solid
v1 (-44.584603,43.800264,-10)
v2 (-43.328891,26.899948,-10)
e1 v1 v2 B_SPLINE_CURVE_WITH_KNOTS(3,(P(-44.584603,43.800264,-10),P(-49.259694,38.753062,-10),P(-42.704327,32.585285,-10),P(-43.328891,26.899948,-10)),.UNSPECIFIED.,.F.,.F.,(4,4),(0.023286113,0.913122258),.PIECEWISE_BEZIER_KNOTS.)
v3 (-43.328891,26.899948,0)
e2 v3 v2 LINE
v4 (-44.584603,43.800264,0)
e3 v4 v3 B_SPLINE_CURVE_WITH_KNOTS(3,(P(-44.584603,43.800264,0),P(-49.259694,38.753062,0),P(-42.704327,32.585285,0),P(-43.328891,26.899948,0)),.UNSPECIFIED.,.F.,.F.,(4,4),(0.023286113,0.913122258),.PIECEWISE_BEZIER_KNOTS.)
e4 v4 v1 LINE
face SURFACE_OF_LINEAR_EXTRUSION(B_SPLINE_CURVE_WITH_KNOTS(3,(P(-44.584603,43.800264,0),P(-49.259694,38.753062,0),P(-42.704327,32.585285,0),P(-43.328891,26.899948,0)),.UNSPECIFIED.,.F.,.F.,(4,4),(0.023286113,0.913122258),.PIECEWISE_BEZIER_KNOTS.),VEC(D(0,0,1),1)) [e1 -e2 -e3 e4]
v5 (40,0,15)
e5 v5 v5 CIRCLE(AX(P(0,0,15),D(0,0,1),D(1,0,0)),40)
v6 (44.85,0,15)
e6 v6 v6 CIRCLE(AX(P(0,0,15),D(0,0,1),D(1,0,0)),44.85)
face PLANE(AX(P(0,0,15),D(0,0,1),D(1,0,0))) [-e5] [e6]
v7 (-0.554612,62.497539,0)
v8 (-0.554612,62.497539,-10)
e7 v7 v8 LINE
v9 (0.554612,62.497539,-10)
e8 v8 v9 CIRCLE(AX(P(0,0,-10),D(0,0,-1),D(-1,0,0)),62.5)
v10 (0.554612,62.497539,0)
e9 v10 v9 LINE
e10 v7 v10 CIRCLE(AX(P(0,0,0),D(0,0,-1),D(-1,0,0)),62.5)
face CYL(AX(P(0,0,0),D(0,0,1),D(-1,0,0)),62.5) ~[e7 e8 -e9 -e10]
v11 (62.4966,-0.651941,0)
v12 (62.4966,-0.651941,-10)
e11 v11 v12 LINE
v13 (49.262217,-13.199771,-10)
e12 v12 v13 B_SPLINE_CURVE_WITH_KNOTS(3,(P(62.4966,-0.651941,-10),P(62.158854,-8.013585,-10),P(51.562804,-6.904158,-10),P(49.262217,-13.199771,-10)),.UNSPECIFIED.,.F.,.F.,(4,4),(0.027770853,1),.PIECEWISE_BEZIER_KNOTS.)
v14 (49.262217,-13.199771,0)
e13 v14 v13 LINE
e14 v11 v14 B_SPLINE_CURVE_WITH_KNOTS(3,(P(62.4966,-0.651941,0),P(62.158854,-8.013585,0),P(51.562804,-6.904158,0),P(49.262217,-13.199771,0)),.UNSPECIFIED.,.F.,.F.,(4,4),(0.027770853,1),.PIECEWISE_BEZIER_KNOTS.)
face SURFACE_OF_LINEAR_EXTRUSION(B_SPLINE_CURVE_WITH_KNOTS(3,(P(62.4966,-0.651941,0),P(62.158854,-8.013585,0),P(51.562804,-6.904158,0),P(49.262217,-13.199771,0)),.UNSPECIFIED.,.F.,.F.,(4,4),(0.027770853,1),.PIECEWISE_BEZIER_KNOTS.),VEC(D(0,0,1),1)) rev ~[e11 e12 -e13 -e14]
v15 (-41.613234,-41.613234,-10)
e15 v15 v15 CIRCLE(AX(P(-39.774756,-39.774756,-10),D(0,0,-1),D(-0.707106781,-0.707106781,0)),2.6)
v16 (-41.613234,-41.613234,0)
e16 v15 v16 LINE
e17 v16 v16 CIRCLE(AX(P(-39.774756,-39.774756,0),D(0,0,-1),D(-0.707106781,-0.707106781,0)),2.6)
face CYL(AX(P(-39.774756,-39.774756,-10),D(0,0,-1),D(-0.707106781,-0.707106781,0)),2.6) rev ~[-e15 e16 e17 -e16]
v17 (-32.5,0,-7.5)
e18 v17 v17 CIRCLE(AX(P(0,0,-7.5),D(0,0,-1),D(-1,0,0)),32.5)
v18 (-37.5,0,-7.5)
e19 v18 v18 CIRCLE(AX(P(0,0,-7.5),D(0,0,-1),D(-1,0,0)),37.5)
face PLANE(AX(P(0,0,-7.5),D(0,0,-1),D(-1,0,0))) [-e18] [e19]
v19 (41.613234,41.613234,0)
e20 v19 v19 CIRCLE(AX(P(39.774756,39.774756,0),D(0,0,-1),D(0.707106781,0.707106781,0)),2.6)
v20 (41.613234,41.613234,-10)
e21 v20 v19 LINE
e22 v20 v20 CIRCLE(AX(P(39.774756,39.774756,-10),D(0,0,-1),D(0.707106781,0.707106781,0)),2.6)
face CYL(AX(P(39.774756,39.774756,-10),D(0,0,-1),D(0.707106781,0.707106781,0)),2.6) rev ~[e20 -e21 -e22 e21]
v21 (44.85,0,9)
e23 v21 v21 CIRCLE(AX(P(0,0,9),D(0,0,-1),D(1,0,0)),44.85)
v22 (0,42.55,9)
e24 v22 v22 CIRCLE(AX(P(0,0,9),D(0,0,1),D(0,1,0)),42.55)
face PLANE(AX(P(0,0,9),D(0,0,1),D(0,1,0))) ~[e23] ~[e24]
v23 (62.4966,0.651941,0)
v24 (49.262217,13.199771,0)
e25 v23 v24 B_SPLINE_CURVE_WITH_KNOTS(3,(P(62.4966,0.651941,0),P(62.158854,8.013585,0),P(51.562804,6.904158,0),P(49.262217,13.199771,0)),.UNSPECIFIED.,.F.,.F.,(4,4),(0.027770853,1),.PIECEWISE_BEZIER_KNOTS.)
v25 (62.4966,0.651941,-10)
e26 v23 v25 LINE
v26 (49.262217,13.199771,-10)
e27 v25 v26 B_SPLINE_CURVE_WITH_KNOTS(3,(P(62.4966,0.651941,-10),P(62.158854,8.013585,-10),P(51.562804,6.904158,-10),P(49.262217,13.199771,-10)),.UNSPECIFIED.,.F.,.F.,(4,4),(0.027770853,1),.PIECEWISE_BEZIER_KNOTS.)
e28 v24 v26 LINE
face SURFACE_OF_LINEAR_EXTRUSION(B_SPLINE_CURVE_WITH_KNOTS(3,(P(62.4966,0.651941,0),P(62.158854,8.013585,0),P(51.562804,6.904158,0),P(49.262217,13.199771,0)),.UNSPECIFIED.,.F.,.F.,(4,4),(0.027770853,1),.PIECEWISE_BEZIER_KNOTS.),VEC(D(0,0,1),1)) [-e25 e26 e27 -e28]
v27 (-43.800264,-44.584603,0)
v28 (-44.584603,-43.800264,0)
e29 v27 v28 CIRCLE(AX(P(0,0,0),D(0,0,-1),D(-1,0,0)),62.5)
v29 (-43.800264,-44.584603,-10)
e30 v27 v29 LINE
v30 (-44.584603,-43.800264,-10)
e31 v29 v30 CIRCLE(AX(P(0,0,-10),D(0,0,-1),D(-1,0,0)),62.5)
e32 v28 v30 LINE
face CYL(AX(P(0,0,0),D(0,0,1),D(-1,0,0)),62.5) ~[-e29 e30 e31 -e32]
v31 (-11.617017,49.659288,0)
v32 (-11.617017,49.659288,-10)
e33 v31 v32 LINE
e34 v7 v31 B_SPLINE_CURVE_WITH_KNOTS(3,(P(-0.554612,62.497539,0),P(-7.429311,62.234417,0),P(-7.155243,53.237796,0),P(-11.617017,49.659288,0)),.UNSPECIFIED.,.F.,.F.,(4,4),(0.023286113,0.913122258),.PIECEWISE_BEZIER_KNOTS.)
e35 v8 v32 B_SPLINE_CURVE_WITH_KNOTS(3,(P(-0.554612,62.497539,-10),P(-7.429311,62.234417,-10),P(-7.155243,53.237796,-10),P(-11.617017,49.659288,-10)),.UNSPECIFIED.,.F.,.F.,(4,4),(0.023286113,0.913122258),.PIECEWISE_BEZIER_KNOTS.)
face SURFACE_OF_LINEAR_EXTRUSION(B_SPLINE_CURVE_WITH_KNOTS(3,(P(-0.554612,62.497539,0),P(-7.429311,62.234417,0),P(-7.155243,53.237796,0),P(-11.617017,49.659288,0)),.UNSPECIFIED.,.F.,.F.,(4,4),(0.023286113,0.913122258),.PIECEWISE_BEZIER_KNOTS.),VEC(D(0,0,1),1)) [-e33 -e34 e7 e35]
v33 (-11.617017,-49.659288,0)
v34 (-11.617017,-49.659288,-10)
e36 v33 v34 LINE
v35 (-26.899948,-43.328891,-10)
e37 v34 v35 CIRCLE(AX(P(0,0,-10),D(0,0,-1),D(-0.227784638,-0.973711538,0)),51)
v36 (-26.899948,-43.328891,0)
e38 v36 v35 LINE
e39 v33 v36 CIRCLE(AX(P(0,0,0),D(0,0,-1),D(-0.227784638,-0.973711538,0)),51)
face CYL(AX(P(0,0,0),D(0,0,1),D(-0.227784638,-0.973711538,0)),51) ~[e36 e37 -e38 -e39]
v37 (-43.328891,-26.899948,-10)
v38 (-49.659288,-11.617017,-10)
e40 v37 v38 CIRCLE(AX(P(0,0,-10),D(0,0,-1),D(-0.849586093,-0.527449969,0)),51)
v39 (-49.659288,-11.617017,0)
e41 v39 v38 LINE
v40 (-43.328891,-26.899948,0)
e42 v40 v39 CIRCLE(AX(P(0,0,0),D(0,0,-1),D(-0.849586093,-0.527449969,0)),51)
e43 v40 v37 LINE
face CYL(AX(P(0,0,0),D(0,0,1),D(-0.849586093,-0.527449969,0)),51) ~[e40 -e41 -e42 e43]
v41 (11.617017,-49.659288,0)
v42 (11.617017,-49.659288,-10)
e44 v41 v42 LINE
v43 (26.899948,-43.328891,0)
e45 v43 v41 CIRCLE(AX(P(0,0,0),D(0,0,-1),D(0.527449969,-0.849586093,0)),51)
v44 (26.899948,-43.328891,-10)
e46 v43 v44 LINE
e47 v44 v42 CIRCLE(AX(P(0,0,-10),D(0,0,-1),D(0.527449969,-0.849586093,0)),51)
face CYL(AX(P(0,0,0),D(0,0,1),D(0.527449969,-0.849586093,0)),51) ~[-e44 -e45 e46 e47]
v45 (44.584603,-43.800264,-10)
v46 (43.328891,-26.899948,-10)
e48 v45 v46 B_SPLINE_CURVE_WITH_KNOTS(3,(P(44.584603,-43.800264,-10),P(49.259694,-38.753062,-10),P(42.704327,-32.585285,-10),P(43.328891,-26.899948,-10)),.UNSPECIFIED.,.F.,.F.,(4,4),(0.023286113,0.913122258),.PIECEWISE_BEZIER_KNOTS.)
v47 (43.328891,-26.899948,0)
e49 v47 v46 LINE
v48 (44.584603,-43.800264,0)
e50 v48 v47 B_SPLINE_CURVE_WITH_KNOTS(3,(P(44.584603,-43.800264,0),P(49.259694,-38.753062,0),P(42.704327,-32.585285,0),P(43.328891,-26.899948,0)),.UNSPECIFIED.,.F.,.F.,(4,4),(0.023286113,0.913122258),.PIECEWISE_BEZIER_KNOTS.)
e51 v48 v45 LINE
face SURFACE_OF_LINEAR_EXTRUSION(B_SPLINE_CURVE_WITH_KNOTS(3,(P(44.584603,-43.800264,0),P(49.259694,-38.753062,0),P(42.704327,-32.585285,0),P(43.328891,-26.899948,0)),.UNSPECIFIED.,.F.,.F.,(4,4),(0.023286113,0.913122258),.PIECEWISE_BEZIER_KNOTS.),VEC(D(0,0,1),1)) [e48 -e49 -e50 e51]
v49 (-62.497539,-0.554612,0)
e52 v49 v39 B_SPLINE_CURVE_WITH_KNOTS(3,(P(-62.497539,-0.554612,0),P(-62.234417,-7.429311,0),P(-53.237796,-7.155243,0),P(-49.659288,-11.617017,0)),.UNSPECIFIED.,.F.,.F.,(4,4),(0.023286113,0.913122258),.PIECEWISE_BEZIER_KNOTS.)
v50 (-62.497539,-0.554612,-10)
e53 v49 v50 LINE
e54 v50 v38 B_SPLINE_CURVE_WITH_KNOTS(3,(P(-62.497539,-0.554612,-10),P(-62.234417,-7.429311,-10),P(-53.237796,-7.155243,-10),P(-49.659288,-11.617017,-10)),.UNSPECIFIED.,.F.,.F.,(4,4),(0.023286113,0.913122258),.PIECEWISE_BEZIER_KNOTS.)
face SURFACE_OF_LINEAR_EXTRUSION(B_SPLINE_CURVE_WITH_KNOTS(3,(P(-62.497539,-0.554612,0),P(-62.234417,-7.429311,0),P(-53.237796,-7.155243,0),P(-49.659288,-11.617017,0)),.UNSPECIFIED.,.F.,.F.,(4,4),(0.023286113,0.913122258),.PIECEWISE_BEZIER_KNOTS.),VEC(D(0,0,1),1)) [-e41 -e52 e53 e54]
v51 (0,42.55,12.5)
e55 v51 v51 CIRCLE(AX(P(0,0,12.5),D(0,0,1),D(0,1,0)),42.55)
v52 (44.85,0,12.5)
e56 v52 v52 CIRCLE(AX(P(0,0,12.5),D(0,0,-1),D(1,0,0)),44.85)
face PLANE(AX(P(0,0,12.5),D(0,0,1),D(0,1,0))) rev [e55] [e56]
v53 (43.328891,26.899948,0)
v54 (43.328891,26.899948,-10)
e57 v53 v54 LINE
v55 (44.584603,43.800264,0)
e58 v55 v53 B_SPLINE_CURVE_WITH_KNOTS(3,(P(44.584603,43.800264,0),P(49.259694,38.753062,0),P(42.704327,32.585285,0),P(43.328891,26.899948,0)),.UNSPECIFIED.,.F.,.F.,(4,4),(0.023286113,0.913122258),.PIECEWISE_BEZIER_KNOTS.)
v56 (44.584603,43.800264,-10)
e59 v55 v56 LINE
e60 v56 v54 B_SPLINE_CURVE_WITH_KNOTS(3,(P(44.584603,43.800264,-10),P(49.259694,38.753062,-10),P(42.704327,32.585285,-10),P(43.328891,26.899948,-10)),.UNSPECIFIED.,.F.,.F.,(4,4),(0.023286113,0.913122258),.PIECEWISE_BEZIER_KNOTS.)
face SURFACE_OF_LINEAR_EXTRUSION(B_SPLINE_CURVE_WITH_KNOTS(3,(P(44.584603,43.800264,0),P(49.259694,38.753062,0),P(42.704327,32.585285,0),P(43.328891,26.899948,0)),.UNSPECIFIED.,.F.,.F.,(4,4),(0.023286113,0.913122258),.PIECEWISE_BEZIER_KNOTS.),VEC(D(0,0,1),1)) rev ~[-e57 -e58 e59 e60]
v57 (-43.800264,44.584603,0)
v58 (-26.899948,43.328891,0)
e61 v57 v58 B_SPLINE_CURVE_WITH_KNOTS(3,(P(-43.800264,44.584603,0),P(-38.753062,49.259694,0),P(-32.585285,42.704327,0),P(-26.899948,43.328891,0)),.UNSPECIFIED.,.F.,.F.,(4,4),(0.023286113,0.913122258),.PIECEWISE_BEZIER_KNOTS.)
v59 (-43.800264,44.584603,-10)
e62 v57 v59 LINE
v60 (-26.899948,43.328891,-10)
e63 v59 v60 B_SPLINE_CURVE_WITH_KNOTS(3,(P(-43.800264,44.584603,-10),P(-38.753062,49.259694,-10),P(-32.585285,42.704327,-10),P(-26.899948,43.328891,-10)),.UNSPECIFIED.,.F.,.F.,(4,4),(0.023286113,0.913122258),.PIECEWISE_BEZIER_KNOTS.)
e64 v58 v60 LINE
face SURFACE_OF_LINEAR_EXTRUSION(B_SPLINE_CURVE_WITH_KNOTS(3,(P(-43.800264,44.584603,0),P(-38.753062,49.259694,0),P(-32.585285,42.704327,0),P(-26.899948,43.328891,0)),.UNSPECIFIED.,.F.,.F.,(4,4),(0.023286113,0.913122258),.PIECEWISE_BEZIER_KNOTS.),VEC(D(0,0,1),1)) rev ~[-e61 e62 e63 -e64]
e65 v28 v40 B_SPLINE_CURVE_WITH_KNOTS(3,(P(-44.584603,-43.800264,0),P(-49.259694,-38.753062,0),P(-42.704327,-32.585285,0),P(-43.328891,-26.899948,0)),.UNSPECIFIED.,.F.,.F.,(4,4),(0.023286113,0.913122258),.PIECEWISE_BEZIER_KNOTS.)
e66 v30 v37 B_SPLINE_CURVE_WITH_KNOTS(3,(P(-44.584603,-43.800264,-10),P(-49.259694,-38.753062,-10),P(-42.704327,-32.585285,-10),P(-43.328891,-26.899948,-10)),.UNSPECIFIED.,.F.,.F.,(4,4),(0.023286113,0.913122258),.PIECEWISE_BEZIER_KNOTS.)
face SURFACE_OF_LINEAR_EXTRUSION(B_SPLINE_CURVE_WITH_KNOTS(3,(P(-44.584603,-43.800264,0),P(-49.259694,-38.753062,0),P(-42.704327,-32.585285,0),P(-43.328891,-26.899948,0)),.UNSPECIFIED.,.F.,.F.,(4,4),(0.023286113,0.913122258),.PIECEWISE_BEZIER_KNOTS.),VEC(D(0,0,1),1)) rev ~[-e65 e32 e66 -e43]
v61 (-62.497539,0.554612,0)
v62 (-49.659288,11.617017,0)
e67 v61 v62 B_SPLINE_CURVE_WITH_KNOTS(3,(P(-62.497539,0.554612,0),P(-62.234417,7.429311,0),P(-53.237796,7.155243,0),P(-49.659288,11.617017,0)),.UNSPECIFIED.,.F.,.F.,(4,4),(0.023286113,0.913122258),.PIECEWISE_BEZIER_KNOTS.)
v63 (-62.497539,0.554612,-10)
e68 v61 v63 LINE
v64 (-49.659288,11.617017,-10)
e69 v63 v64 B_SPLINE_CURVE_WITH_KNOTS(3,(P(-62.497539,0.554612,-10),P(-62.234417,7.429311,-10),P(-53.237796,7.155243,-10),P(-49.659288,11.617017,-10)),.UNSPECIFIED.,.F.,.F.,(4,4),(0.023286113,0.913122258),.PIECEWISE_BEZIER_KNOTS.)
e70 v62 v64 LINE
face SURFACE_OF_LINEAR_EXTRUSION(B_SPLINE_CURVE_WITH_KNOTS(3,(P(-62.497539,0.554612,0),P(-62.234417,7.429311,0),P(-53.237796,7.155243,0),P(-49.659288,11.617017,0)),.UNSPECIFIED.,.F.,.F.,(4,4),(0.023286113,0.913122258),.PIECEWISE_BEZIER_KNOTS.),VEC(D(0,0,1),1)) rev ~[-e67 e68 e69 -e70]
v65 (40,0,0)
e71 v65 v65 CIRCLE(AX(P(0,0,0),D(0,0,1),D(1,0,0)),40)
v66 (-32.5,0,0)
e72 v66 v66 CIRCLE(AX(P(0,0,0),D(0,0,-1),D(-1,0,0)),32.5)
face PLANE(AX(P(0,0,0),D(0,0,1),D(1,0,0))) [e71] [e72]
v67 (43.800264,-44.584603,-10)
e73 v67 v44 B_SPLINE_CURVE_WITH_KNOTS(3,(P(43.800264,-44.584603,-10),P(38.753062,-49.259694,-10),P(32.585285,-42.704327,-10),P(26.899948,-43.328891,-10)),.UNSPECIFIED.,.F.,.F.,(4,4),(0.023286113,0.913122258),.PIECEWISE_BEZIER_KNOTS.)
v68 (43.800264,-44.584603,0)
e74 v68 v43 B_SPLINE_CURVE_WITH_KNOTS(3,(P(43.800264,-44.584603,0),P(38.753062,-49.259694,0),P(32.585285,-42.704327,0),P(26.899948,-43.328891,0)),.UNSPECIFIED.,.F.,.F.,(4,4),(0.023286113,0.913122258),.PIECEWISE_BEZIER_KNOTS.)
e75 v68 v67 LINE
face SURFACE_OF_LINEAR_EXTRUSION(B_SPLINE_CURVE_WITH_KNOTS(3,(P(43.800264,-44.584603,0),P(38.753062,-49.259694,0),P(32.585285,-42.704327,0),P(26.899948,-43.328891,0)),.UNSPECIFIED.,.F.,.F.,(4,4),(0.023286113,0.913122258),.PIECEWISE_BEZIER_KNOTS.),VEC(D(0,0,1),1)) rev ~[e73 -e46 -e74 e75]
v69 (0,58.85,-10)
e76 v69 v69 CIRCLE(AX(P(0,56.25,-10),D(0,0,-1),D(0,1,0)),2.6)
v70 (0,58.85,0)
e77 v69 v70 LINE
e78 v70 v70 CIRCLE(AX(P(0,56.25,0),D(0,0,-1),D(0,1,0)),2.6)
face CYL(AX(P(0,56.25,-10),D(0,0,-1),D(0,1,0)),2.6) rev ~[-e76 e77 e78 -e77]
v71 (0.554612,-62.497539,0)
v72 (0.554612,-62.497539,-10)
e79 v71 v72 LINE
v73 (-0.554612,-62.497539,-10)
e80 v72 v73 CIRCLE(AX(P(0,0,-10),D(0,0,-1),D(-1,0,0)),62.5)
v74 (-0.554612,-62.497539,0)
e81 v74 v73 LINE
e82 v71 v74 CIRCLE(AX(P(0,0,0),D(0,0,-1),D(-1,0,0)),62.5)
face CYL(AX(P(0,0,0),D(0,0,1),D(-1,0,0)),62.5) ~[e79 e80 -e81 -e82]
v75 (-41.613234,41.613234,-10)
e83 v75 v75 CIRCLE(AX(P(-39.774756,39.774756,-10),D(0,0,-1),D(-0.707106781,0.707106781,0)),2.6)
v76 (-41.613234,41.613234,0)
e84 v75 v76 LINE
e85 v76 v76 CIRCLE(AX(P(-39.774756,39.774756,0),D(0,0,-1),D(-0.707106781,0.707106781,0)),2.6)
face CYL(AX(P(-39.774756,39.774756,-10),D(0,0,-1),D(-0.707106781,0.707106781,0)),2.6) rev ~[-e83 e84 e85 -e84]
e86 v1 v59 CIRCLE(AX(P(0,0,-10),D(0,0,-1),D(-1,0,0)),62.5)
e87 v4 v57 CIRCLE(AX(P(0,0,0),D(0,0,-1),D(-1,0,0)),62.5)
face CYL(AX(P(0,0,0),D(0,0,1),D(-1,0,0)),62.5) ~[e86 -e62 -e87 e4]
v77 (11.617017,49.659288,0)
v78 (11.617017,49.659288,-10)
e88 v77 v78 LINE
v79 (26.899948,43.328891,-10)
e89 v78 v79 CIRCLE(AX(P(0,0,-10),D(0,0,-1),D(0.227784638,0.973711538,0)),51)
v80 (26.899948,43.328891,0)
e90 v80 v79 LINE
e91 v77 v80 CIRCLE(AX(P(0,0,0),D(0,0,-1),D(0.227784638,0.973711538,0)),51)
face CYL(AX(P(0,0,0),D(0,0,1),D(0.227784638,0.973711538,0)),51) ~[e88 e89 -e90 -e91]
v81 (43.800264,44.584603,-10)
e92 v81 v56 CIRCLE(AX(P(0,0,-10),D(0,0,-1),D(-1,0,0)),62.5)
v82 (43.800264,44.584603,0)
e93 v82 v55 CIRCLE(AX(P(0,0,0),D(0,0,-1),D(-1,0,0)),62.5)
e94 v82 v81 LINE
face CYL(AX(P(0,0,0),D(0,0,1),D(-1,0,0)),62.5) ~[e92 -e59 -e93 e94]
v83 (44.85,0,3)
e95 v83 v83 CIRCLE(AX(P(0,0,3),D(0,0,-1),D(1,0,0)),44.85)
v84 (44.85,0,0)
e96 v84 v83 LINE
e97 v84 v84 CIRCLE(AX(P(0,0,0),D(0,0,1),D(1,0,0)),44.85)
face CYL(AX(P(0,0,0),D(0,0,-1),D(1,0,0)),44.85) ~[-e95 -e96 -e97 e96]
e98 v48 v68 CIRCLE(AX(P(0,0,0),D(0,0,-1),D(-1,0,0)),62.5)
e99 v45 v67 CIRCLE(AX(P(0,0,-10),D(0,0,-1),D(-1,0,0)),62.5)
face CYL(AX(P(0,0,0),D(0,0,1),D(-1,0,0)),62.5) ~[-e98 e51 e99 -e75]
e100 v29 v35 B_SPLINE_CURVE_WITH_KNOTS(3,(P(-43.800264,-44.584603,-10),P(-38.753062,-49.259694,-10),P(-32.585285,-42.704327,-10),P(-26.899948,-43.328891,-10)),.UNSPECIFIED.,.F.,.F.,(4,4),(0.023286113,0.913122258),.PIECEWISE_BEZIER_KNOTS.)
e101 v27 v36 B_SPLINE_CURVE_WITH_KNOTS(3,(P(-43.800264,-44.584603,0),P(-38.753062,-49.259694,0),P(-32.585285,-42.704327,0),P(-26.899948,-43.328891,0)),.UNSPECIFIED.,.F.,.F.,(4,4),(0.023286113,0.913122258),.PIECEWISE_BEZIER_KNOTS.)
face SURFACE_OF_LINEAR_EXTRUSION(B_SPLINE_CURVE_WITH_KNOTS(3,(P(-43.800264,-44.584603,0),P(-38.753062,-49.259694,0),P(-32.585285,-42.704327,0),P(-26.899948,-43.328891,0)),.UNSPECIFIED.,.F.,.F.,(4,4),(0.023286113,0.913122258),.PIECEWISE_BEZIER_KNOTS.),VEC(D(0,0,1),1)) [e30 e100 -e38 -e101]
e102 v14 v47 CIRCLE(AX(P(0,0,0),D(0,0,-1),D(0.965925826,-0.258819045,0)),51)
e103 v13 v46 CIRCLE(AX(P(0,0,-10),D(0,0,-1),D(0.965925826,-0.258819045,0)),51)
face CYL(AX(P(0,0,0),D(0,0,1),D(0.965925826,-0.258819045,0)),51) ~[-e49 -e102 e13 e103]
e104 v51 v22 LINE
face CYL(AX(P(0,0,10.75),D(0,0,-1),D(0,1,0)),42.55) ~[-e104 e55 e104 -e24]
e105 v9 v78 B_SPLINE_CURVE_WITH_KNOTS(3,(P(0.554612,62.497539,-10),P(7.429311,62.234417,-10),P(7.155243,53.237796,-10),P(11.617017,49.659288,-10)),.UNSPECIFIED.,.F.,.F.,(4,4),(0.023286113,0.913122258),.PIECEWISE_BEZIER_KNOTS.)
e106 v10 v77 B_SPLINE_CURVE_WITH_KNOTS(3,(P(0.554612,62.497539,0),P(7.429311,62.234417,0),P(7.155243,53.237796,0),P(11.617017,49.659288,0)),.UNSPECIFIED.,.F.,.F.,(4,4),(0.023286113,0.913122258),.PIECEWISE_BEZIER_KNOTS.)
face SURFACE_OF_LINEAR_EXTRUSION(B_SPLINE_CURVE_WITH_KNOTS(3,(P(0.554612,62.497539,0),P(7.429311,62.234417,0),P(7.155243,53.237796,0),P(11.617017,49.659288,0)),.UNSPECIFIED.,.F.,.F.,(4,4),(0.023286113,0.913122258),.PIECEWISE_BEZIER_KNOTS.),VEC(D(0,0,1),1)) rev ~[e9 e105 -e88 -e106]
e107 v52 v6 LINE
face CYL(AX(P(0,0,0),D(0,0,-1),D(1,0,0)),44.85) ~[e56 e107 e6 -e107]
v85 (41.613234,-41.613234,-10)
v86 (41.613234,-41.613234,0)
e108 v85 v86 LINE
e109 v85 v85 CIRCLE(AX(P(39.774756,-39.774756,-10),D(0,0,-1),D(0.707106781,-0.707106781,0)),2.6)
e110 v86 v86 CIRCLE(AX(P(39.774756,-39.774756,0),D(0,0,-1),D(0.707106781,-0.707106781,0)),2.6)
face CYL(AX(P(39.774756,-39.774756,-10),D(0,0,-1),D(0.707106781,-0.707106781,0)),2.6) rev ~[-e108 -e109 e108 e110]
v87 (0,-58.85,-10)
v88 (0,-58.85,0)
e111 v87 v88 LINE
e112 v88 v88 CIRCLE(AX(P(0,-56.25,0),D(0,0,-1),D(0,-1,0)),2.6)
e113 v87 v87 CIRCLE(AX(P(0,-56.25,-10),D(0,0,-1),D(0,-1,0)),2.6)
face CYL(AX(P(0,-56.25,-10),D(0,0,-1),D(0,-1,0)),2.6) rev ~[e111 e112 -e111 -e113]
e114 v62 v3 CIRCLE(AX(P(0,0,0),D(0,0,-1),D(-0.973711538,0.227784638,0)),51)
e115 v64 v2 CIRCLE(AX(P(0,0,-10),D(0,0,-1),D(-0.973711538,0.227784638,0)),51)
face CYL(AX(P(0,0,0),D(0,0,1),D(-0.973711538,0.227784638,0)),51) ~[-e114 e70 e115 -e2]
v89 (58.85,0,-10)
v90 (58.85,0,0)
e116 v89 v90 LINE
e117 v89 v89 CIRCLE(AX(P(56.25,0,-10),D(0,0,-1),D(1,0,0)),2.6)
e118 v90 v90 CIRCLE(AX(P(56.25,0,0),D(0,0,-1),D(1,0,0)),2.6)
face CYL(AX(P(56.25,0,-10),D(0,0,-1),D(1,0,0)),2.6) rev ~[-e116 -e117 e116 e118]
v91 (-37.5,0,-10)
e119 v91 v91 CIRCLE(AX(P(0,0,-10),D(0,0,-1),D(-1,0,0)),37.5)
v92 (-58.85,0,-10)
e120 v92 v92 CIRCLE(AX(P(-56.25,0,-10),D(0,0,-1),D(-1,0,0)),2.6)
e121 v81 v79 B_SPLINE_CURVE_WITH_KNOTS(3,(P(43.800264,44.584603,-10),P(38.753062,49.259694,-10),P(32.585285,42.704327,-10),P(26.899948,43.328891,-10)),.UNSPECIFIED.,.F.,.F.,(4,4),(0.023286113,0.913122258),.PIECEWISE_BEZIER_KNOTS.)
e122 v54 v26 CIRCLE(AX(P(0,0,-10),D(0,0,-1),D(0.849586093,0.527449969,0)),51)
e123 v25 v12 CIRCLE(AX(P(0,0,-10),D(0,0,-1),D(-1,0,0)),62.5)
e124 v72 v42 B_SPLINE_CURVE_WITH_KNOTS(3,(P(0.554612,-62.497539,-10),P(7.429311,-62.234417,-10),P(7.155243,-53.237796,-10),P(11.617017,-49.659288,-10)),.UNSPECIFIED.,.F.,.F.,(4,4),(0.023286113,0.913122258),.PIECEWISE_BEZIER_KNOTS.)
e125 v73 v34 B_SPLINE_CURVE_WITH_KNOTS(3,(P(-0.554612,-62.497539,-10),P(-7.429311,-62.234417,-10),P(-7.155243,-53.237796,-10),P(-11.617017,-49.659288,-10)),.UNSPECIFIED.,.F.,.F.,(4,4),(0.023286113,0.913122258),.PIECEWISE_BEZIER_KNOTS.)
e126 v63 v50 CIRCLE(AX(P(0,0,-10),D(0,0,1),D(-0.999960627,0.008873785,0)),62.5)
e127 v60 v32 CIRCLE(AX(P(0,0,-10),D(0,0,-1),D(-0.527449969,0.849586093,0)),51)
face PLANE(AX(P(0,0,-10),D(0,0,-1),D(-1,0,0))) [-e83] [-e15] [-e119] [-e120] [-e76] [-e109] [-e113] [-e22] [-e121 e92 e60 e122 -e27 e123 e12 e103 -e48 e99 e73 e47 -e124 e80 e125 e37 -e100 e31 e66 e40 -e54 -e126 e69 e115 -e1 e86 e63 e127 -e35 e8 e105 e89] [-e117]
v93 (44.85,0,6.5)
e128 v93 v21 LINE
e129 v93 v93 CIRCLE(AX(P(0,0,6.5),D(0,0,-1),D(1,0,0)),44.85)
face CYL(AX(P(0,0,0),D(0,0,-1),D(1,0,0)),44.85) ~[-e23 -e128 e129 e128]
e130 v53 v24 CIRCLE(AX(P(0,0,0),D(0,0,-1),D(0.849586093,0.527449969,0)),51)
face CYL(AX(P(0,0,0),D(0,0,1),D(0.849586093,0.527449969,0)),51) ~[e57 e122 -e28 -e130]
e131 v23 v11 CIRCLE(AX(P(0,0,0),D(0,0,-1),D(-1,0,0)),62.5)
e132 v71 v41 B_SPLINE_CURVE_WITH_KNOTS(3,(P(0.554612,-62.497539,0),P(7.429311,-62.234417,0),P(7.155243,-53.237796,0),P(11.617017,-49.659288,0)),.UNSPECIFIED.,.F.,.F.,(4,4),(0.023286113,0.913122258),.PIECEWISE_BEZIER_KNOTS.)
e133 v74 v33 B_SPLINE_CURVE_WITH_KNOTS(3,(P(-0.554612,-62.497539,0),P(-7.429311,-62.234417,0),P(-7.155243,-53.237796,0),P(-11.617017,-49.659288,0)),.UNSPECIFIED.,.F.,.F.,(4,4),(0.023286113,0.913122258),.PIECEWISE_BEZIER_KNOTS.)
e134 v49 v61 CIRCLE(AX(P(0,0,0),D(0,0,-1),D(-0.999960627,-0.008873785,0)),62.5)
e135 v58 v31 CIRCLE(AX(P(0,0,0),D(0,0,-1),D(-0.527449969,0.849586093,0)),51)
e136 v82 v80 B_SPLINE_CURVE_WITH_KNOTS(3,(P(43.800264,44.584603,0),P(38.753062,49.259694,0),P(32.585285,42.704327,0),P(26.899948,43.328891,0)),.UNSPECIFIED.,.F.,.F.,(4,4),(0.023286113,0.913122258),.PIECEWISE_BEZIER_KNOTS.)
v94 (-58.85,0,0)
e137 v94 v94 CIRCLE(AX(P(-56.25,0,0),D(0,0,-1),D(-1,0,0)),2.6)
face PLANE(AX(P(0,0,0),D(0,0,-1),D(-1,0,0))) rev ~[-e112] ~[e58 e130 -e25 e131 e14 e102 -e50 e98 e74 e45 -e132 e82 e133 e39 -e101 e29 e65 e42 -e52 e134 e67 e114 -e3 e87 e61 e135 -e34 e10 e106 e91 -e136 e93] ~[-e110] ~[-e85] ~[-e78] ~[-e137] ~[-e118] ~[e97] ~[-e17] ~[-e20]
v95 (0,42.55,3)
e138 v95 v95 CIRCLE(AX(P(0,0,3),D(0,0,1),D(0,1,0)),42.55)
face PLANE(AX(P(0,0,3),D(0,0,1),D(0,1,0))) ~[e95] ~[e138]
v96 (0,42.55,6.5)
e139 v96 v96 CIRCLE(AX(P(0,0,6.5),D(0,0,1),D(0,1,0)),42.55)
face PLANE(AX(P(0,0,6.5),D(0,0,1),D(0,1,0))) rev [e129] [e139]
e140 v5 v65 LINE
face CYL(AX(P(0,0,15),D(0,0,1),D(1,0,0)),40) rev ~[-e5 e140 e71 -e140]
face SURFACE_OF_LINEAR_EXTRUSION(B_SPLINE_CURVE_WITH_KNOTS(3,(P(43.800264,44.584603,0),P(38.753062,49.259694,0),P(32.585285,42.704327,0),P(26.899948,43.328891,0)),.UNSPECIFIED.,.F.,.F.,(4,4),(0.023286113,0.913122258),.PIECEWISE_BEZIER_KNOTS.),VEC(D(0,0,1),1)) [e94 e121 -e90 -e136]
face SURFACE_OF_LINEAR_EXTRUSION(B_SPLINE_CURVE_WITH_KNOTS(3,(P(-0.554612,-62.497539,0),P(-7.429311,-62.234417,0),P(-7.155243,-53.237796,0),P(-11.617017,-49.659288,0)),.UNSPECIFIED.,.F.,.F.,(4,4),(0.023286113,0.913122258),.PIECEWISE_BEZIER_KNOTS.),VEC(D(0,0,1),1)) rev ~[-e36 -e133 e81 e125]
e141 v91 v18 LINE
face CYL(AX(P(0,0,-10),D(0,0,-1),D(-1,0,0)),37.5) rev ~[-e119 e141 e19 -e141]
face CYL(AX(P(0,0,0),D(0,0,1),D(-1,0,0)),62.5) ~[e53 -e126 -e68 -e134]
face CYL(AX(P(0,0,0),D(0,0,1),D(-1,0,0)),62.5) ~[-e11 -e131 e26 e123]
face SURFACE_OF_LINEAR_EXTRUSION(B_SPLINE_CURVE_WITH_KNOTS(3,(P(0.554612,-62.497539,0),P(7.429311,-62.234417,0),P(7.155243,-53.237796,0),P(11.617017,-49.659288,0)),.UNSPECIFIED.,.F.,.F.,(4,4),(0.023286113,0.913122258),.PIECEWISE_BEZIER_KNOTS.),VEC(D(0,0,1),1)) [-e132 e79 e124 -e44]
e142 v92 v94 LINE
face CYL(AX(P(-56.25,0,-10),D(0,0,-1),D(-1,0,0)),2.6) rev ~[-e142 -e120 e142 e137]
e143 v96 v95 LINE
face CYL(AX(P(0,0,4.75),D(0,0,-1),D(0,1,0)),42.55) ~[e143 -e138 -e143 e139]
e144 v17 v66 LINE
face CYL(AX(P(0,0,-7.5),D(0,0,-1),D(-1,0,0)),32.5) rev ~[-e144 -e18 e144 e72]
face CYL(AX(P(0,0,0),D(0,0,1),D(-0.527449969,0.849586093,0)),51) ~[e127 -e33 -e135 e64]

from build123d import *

# Parameters (mm, degrees)
SKETCH1_R           = 44.85
BOSS_EXTRUDE1_DEPTH = 15
SKETCH2_R           = 62.5
BOSS_EXTRUDE2_DEPTH = 10
SKETCH3_R           = 40
CUT_EXTRUDE1_DEPTH  = 15
SKETCH4_W           = 3.5
SKETCH4_H           = 3.724799257
SKETCH7_R           = 2.6
CUT_EXTRUDE4_DEPTH  = 92.855865354
CIRPATTERN1_COUNT   = 8
SKETCH9_R           = 37.5
CUT_EXTRUDE6_DEPTH  = 2.5
SKETCH10_R          = 32.5
CUT_EXTRUDE7_DEPTH  = 92.207181735
SKETCH16_R          = 63
CUT_EXTRUDE12_DEPTH = 10


with BuildPart() as part:
    # Sketch1 → Boss-Extrude1 (new body)
    with BuildSketch(Plane.XY):
        Circle(SKETCH1_R)
    extrude(amount=BOSS_EXTRUDE1_DEPTH)

    # Sketch2 → Boss-Extrude2 (add)
    with BuildSketch(Plane(origin=(0, 0, 0), x_dir=(-1, 0, 0), z_dir=(0, 0, -1))):
        Circle(SKETCH2_R)
    extrude(amount=BOSS_EXTRUDE2_DEPTH)

    # Sketch3 → Cut-Extrude1 (cut)
    with BuildSketch(Plane.XY.offset(15)):
        Circle(SKETCH3_R)
    extrude(amount=-CUT_EXTRUDE1_DEPTH, mode=Mode.SUBTRACT)

    # Sketch4 → Cut-Revolve1 (revolve, cut)
    with BuildSketch(Plane(origin=(0, 0, 0), x_dir=(0, 0, -1), z_dir=(1, 0, 0))):
        with Locations((-4.75, 44.412399629)):
            Rectangle(SKETCH4_W, SKETCH4_H)
        with Locations((-10.75, 44.412399629)):
            Rectangle(SKETCH4_W, SKETCH4_H)
    revolve(axis=Axis((0, 0, -42.713110189), (0, 0, 1)), mode=Mode.SUBTRACT)

    # Sketch7 → Cut-Extrude4 (cut, through all)
    with BuildSketch(Plane(origin=(0, 0, -10), x_dir=(-1, 0, 0), z_dir=(0, 0, -1))):
        with Locations((56.25, 0)):
            Circle(SKETCH7_R)
    cut_extrude4 = extrude(amount=-CUT_EXTRUDE4_DEPTH, mode=Mode.SUBTRACT)

    # CirPattern1: Cut-Extrude4 ×8 about axis
    cirpattern1_axis = Axis((0, 0, -45.874761596), (0, 0, 1))
    for i in range(1, CIRPATTERN1_COUNT):
        add(cut_extrude4.rotate(cirpattern1_axis, i * 360 / CIRPATTERN1_COUNT), mode=Mode.SUBTRACT)

    # Sketch9 → Cut-Extrude6 (cut)
    with BuildSketch(Plane(origin=(0, 0, -10), x_dir=(-1, 0, 0), z_dir=(0, 0, -1))):
        Circle(SKETCH9_R)
    extrude(amount=-CUT_EXTRUDE6_DEPTH, mode=Mode.SUBTRACT)

    # Sketch10 → Cut-Extrude7 (cut, through all)
    with BuildSketch(Plane(origin=(0, 0, -7.5), x_dir=(-1, 0, 0), z_dir=(0, 0, -1))):
        Circle(SKETCH10_R)
    extrude(amount=-CUT_EXTRUDE7_DEPTH, mode=Mode.SUBTRACT)

    # Sketch16 → Cut-Extrude12 (cut)
    with BuildSketch(Plane.XY):
        Circle(SKETCH16_R)
        with BuildLine():
            ThreePointArc((43.328890761, 26.899948428), (46.799594325, 20.268151644), (49.262217141, 13.1997713))
            add(Edge.make_bspline(
                [(62.5, 0), (62.770955577, 8.083006491), (51.628518063, 6.724329941), (49.262217141, 13.1997713)],
                knots=[0, 0, 0, 0, 1, 1, 1, 1], degree=3))
            add(Edge.make_bspline(
                [(62.5, 0), (62.770955577, -8.083006491), (51.628518063, -6.724329941), (49.262217141, -13.1997713)],
                knots=[0, 0, 0, 0, 1, 1, 1, 1], degree=3))
            ThreePointArc((49.262217141, -13.1997713), (46.799594325, -20.268151644), (43.328890761, -26.899948428))
            add(Edge.make_bspline(
                [(44.194173824, -44.194173824), (49.607706082, -39.076201353), (42.687983273, -32.734064805), (43.328890761, -26.899948428)],
                knots=[0, 0, 0, 0, 0.913122258, 0.913122258, 0.913122258, 0.913122258], degree=3))
            add(Edge.make_bspline(
                [(44.194173824, -44.194173824), (39.076201353, -49.607706082), (32.734064805, -42.687983273), (26.899948428, -43.328890761)],
                knots=[0, 0, 0, 0, 0.913122258, 0.913122258, 0.913122258, 0.913122258], degree=3))
            ThreePointArc((26.899948428, -43.328890761), (19.516855051, -47.117856158), (11.617016531, -49.659288425))
            add(Edge.make_bspline(
                [(0, -62.5), (7.44689841, -62.708992329), (7.038483248, -53.331441647), (11.617016531, -49.659288425)],
                knots=[0, 0, 0, 0, 0.913122258, 0.913122258, 0.913122258, 0.913122258], degree=3))
            add(Edge.make_bspline(
                [(0, -62.5), (-7.44689841, -62.708992329), (-7.038483248, -53.331441647), (-11.617016531, -49.659288425)],
                knots=[0, 0, 0, 0, 0.913122258, 0.913122258, 0.913122258, 0.913122258], degree=3))
            ThreePointArc((-11.617016531, -49.659288425), (-19.516855051, -47.117856158), (-26.899948428, -43.328890761))
            add(Edge.make_bspline(
                [(-44.194173824, -44.194173824), (-39.076201353, -49.607706082), (-32.734064805, -42.687983273), (-26.899948428, -43.328890761)],
                knots=[0, 0, 0, 0, 0.913122258, 0.913122258, 0.913122258, 0.913122258], degree=3))
            add(Edge.make_bspline(
                [(-44.194173824, -44.194173824), (-49.607706082, -39.076201353), (-42.687983273, -32.734064805), (-43.328890761, -26.899948428)],
                knots=[0, 0, 0, 0, 0.913122258, 0.913122258, 0.913122258, 0.913122258], degree=3))
            ThreePointArc((-43.328890761, -26.899948428), (-47.117856158, -19.516855051), (-49.659288425, -11.617016531))
            add(Edge.make_bspline(
                [(-62.5, 0), (-62.708992329, -7.44689841), (-53.331441647, -7.038483248), (-49.659288425, -11.617016531)],
                knots=[0, 0, 0, 0, 0.913122258, 0.913122258, 0.913122258, 0.913122258], degree=3))
            add(Edge.make_bspline(
                [(-62.5, 0), (-62.708992329, 7.44689841), (-53.331441647, 7.038483248), (-49.659288425, 11.617016531)],
                knots=[0, 0, 0, 0, 0.913122258, 0.913122258, 0.913122258, 0.913122258], degree=3))
            ThreePointArc((-49.659288425, 11.617016531), (-47.117856158, 19.516855051), (-43.328890761, 26.899948428))
            add(Edge.make_bspline(
                [(-44.194173824, 44.194173824), (-49.607706082, 39.076201353), (-42.687983273, 32.734064805), (-43.328890761, 26.899948428)],
                knots=[0, 0, 0, 0, 0.913122258, 0.913122258, 0.913122258, 0.913122258], degree=3))
            add(Edge.make_bspline(
                [(-44.194173824, 44.194173824), (-39.076201353, 49.607706082), (-32.734064805, 42.687983273), (-26.899948428, 43.328890761)],
                knots=[0, 0, 0, 0, 0.913122258, 0.913122258, 0.913122258, 0.913122258], degree=3))
            ThreePointArc((-26.899948428, 43.328890761), (-19.516855051, 47.117856158), (-11.617016531, 49.659288425))
            add(Edge.make_bspline(
                [(0, 62.5), (-7.44689841, 62.708992329), (-7.038483248, 53.331441647), (-11.617016531, 49.659288425)],
                knots=[0, 0, 0, 0, 0.913122258, 0.913122258, 0.913122258, 0.913122258], degree=3))
            add(Edge.make_bspline(
                [(0, 62.5), (7.44689841, 62.708992329), (7.038483248, 53.331441647), (11.617016531, 49.659288425)],
                knots=[0, 0, 0, 0, 0.913122258, 0.913122258, 0.913122258, 0.913122258], degree=3))
            ThreePointArc((11.617016531, 49.659288425), (19.516855051, 47.117856158), (26.899948428, 43.328890761))
            add(Edge.make_bspline(
                [(44.194173824, 44.194173824), (39.076201353, 49.607706082), (32.734064805, 42.687983273), (26.899948428, 43.328890761)],
                knots=[0, 0, 0, 0, 0.913122258, 0.913122258, 0.913122258, 0.913122258], degree=3))
            add(Edge.make_bspline(
                [(44.194173824, 44.194173824), (49.607706082, 39.076201353), (42.687983273, 32.734064805), (43.328890761, 26.899948428)],
                knots=[0, 0, 0, 0, 0.913122258, 0.913122258, 0.913122258, 0.913122258], degree=3))
        make_face(mode=Mode.SUBTRACT)
    extrude(amount=-CUT_EXTRUDE12_DEPTH, mode=Mode.SUBTRACT)


solid = part.part
